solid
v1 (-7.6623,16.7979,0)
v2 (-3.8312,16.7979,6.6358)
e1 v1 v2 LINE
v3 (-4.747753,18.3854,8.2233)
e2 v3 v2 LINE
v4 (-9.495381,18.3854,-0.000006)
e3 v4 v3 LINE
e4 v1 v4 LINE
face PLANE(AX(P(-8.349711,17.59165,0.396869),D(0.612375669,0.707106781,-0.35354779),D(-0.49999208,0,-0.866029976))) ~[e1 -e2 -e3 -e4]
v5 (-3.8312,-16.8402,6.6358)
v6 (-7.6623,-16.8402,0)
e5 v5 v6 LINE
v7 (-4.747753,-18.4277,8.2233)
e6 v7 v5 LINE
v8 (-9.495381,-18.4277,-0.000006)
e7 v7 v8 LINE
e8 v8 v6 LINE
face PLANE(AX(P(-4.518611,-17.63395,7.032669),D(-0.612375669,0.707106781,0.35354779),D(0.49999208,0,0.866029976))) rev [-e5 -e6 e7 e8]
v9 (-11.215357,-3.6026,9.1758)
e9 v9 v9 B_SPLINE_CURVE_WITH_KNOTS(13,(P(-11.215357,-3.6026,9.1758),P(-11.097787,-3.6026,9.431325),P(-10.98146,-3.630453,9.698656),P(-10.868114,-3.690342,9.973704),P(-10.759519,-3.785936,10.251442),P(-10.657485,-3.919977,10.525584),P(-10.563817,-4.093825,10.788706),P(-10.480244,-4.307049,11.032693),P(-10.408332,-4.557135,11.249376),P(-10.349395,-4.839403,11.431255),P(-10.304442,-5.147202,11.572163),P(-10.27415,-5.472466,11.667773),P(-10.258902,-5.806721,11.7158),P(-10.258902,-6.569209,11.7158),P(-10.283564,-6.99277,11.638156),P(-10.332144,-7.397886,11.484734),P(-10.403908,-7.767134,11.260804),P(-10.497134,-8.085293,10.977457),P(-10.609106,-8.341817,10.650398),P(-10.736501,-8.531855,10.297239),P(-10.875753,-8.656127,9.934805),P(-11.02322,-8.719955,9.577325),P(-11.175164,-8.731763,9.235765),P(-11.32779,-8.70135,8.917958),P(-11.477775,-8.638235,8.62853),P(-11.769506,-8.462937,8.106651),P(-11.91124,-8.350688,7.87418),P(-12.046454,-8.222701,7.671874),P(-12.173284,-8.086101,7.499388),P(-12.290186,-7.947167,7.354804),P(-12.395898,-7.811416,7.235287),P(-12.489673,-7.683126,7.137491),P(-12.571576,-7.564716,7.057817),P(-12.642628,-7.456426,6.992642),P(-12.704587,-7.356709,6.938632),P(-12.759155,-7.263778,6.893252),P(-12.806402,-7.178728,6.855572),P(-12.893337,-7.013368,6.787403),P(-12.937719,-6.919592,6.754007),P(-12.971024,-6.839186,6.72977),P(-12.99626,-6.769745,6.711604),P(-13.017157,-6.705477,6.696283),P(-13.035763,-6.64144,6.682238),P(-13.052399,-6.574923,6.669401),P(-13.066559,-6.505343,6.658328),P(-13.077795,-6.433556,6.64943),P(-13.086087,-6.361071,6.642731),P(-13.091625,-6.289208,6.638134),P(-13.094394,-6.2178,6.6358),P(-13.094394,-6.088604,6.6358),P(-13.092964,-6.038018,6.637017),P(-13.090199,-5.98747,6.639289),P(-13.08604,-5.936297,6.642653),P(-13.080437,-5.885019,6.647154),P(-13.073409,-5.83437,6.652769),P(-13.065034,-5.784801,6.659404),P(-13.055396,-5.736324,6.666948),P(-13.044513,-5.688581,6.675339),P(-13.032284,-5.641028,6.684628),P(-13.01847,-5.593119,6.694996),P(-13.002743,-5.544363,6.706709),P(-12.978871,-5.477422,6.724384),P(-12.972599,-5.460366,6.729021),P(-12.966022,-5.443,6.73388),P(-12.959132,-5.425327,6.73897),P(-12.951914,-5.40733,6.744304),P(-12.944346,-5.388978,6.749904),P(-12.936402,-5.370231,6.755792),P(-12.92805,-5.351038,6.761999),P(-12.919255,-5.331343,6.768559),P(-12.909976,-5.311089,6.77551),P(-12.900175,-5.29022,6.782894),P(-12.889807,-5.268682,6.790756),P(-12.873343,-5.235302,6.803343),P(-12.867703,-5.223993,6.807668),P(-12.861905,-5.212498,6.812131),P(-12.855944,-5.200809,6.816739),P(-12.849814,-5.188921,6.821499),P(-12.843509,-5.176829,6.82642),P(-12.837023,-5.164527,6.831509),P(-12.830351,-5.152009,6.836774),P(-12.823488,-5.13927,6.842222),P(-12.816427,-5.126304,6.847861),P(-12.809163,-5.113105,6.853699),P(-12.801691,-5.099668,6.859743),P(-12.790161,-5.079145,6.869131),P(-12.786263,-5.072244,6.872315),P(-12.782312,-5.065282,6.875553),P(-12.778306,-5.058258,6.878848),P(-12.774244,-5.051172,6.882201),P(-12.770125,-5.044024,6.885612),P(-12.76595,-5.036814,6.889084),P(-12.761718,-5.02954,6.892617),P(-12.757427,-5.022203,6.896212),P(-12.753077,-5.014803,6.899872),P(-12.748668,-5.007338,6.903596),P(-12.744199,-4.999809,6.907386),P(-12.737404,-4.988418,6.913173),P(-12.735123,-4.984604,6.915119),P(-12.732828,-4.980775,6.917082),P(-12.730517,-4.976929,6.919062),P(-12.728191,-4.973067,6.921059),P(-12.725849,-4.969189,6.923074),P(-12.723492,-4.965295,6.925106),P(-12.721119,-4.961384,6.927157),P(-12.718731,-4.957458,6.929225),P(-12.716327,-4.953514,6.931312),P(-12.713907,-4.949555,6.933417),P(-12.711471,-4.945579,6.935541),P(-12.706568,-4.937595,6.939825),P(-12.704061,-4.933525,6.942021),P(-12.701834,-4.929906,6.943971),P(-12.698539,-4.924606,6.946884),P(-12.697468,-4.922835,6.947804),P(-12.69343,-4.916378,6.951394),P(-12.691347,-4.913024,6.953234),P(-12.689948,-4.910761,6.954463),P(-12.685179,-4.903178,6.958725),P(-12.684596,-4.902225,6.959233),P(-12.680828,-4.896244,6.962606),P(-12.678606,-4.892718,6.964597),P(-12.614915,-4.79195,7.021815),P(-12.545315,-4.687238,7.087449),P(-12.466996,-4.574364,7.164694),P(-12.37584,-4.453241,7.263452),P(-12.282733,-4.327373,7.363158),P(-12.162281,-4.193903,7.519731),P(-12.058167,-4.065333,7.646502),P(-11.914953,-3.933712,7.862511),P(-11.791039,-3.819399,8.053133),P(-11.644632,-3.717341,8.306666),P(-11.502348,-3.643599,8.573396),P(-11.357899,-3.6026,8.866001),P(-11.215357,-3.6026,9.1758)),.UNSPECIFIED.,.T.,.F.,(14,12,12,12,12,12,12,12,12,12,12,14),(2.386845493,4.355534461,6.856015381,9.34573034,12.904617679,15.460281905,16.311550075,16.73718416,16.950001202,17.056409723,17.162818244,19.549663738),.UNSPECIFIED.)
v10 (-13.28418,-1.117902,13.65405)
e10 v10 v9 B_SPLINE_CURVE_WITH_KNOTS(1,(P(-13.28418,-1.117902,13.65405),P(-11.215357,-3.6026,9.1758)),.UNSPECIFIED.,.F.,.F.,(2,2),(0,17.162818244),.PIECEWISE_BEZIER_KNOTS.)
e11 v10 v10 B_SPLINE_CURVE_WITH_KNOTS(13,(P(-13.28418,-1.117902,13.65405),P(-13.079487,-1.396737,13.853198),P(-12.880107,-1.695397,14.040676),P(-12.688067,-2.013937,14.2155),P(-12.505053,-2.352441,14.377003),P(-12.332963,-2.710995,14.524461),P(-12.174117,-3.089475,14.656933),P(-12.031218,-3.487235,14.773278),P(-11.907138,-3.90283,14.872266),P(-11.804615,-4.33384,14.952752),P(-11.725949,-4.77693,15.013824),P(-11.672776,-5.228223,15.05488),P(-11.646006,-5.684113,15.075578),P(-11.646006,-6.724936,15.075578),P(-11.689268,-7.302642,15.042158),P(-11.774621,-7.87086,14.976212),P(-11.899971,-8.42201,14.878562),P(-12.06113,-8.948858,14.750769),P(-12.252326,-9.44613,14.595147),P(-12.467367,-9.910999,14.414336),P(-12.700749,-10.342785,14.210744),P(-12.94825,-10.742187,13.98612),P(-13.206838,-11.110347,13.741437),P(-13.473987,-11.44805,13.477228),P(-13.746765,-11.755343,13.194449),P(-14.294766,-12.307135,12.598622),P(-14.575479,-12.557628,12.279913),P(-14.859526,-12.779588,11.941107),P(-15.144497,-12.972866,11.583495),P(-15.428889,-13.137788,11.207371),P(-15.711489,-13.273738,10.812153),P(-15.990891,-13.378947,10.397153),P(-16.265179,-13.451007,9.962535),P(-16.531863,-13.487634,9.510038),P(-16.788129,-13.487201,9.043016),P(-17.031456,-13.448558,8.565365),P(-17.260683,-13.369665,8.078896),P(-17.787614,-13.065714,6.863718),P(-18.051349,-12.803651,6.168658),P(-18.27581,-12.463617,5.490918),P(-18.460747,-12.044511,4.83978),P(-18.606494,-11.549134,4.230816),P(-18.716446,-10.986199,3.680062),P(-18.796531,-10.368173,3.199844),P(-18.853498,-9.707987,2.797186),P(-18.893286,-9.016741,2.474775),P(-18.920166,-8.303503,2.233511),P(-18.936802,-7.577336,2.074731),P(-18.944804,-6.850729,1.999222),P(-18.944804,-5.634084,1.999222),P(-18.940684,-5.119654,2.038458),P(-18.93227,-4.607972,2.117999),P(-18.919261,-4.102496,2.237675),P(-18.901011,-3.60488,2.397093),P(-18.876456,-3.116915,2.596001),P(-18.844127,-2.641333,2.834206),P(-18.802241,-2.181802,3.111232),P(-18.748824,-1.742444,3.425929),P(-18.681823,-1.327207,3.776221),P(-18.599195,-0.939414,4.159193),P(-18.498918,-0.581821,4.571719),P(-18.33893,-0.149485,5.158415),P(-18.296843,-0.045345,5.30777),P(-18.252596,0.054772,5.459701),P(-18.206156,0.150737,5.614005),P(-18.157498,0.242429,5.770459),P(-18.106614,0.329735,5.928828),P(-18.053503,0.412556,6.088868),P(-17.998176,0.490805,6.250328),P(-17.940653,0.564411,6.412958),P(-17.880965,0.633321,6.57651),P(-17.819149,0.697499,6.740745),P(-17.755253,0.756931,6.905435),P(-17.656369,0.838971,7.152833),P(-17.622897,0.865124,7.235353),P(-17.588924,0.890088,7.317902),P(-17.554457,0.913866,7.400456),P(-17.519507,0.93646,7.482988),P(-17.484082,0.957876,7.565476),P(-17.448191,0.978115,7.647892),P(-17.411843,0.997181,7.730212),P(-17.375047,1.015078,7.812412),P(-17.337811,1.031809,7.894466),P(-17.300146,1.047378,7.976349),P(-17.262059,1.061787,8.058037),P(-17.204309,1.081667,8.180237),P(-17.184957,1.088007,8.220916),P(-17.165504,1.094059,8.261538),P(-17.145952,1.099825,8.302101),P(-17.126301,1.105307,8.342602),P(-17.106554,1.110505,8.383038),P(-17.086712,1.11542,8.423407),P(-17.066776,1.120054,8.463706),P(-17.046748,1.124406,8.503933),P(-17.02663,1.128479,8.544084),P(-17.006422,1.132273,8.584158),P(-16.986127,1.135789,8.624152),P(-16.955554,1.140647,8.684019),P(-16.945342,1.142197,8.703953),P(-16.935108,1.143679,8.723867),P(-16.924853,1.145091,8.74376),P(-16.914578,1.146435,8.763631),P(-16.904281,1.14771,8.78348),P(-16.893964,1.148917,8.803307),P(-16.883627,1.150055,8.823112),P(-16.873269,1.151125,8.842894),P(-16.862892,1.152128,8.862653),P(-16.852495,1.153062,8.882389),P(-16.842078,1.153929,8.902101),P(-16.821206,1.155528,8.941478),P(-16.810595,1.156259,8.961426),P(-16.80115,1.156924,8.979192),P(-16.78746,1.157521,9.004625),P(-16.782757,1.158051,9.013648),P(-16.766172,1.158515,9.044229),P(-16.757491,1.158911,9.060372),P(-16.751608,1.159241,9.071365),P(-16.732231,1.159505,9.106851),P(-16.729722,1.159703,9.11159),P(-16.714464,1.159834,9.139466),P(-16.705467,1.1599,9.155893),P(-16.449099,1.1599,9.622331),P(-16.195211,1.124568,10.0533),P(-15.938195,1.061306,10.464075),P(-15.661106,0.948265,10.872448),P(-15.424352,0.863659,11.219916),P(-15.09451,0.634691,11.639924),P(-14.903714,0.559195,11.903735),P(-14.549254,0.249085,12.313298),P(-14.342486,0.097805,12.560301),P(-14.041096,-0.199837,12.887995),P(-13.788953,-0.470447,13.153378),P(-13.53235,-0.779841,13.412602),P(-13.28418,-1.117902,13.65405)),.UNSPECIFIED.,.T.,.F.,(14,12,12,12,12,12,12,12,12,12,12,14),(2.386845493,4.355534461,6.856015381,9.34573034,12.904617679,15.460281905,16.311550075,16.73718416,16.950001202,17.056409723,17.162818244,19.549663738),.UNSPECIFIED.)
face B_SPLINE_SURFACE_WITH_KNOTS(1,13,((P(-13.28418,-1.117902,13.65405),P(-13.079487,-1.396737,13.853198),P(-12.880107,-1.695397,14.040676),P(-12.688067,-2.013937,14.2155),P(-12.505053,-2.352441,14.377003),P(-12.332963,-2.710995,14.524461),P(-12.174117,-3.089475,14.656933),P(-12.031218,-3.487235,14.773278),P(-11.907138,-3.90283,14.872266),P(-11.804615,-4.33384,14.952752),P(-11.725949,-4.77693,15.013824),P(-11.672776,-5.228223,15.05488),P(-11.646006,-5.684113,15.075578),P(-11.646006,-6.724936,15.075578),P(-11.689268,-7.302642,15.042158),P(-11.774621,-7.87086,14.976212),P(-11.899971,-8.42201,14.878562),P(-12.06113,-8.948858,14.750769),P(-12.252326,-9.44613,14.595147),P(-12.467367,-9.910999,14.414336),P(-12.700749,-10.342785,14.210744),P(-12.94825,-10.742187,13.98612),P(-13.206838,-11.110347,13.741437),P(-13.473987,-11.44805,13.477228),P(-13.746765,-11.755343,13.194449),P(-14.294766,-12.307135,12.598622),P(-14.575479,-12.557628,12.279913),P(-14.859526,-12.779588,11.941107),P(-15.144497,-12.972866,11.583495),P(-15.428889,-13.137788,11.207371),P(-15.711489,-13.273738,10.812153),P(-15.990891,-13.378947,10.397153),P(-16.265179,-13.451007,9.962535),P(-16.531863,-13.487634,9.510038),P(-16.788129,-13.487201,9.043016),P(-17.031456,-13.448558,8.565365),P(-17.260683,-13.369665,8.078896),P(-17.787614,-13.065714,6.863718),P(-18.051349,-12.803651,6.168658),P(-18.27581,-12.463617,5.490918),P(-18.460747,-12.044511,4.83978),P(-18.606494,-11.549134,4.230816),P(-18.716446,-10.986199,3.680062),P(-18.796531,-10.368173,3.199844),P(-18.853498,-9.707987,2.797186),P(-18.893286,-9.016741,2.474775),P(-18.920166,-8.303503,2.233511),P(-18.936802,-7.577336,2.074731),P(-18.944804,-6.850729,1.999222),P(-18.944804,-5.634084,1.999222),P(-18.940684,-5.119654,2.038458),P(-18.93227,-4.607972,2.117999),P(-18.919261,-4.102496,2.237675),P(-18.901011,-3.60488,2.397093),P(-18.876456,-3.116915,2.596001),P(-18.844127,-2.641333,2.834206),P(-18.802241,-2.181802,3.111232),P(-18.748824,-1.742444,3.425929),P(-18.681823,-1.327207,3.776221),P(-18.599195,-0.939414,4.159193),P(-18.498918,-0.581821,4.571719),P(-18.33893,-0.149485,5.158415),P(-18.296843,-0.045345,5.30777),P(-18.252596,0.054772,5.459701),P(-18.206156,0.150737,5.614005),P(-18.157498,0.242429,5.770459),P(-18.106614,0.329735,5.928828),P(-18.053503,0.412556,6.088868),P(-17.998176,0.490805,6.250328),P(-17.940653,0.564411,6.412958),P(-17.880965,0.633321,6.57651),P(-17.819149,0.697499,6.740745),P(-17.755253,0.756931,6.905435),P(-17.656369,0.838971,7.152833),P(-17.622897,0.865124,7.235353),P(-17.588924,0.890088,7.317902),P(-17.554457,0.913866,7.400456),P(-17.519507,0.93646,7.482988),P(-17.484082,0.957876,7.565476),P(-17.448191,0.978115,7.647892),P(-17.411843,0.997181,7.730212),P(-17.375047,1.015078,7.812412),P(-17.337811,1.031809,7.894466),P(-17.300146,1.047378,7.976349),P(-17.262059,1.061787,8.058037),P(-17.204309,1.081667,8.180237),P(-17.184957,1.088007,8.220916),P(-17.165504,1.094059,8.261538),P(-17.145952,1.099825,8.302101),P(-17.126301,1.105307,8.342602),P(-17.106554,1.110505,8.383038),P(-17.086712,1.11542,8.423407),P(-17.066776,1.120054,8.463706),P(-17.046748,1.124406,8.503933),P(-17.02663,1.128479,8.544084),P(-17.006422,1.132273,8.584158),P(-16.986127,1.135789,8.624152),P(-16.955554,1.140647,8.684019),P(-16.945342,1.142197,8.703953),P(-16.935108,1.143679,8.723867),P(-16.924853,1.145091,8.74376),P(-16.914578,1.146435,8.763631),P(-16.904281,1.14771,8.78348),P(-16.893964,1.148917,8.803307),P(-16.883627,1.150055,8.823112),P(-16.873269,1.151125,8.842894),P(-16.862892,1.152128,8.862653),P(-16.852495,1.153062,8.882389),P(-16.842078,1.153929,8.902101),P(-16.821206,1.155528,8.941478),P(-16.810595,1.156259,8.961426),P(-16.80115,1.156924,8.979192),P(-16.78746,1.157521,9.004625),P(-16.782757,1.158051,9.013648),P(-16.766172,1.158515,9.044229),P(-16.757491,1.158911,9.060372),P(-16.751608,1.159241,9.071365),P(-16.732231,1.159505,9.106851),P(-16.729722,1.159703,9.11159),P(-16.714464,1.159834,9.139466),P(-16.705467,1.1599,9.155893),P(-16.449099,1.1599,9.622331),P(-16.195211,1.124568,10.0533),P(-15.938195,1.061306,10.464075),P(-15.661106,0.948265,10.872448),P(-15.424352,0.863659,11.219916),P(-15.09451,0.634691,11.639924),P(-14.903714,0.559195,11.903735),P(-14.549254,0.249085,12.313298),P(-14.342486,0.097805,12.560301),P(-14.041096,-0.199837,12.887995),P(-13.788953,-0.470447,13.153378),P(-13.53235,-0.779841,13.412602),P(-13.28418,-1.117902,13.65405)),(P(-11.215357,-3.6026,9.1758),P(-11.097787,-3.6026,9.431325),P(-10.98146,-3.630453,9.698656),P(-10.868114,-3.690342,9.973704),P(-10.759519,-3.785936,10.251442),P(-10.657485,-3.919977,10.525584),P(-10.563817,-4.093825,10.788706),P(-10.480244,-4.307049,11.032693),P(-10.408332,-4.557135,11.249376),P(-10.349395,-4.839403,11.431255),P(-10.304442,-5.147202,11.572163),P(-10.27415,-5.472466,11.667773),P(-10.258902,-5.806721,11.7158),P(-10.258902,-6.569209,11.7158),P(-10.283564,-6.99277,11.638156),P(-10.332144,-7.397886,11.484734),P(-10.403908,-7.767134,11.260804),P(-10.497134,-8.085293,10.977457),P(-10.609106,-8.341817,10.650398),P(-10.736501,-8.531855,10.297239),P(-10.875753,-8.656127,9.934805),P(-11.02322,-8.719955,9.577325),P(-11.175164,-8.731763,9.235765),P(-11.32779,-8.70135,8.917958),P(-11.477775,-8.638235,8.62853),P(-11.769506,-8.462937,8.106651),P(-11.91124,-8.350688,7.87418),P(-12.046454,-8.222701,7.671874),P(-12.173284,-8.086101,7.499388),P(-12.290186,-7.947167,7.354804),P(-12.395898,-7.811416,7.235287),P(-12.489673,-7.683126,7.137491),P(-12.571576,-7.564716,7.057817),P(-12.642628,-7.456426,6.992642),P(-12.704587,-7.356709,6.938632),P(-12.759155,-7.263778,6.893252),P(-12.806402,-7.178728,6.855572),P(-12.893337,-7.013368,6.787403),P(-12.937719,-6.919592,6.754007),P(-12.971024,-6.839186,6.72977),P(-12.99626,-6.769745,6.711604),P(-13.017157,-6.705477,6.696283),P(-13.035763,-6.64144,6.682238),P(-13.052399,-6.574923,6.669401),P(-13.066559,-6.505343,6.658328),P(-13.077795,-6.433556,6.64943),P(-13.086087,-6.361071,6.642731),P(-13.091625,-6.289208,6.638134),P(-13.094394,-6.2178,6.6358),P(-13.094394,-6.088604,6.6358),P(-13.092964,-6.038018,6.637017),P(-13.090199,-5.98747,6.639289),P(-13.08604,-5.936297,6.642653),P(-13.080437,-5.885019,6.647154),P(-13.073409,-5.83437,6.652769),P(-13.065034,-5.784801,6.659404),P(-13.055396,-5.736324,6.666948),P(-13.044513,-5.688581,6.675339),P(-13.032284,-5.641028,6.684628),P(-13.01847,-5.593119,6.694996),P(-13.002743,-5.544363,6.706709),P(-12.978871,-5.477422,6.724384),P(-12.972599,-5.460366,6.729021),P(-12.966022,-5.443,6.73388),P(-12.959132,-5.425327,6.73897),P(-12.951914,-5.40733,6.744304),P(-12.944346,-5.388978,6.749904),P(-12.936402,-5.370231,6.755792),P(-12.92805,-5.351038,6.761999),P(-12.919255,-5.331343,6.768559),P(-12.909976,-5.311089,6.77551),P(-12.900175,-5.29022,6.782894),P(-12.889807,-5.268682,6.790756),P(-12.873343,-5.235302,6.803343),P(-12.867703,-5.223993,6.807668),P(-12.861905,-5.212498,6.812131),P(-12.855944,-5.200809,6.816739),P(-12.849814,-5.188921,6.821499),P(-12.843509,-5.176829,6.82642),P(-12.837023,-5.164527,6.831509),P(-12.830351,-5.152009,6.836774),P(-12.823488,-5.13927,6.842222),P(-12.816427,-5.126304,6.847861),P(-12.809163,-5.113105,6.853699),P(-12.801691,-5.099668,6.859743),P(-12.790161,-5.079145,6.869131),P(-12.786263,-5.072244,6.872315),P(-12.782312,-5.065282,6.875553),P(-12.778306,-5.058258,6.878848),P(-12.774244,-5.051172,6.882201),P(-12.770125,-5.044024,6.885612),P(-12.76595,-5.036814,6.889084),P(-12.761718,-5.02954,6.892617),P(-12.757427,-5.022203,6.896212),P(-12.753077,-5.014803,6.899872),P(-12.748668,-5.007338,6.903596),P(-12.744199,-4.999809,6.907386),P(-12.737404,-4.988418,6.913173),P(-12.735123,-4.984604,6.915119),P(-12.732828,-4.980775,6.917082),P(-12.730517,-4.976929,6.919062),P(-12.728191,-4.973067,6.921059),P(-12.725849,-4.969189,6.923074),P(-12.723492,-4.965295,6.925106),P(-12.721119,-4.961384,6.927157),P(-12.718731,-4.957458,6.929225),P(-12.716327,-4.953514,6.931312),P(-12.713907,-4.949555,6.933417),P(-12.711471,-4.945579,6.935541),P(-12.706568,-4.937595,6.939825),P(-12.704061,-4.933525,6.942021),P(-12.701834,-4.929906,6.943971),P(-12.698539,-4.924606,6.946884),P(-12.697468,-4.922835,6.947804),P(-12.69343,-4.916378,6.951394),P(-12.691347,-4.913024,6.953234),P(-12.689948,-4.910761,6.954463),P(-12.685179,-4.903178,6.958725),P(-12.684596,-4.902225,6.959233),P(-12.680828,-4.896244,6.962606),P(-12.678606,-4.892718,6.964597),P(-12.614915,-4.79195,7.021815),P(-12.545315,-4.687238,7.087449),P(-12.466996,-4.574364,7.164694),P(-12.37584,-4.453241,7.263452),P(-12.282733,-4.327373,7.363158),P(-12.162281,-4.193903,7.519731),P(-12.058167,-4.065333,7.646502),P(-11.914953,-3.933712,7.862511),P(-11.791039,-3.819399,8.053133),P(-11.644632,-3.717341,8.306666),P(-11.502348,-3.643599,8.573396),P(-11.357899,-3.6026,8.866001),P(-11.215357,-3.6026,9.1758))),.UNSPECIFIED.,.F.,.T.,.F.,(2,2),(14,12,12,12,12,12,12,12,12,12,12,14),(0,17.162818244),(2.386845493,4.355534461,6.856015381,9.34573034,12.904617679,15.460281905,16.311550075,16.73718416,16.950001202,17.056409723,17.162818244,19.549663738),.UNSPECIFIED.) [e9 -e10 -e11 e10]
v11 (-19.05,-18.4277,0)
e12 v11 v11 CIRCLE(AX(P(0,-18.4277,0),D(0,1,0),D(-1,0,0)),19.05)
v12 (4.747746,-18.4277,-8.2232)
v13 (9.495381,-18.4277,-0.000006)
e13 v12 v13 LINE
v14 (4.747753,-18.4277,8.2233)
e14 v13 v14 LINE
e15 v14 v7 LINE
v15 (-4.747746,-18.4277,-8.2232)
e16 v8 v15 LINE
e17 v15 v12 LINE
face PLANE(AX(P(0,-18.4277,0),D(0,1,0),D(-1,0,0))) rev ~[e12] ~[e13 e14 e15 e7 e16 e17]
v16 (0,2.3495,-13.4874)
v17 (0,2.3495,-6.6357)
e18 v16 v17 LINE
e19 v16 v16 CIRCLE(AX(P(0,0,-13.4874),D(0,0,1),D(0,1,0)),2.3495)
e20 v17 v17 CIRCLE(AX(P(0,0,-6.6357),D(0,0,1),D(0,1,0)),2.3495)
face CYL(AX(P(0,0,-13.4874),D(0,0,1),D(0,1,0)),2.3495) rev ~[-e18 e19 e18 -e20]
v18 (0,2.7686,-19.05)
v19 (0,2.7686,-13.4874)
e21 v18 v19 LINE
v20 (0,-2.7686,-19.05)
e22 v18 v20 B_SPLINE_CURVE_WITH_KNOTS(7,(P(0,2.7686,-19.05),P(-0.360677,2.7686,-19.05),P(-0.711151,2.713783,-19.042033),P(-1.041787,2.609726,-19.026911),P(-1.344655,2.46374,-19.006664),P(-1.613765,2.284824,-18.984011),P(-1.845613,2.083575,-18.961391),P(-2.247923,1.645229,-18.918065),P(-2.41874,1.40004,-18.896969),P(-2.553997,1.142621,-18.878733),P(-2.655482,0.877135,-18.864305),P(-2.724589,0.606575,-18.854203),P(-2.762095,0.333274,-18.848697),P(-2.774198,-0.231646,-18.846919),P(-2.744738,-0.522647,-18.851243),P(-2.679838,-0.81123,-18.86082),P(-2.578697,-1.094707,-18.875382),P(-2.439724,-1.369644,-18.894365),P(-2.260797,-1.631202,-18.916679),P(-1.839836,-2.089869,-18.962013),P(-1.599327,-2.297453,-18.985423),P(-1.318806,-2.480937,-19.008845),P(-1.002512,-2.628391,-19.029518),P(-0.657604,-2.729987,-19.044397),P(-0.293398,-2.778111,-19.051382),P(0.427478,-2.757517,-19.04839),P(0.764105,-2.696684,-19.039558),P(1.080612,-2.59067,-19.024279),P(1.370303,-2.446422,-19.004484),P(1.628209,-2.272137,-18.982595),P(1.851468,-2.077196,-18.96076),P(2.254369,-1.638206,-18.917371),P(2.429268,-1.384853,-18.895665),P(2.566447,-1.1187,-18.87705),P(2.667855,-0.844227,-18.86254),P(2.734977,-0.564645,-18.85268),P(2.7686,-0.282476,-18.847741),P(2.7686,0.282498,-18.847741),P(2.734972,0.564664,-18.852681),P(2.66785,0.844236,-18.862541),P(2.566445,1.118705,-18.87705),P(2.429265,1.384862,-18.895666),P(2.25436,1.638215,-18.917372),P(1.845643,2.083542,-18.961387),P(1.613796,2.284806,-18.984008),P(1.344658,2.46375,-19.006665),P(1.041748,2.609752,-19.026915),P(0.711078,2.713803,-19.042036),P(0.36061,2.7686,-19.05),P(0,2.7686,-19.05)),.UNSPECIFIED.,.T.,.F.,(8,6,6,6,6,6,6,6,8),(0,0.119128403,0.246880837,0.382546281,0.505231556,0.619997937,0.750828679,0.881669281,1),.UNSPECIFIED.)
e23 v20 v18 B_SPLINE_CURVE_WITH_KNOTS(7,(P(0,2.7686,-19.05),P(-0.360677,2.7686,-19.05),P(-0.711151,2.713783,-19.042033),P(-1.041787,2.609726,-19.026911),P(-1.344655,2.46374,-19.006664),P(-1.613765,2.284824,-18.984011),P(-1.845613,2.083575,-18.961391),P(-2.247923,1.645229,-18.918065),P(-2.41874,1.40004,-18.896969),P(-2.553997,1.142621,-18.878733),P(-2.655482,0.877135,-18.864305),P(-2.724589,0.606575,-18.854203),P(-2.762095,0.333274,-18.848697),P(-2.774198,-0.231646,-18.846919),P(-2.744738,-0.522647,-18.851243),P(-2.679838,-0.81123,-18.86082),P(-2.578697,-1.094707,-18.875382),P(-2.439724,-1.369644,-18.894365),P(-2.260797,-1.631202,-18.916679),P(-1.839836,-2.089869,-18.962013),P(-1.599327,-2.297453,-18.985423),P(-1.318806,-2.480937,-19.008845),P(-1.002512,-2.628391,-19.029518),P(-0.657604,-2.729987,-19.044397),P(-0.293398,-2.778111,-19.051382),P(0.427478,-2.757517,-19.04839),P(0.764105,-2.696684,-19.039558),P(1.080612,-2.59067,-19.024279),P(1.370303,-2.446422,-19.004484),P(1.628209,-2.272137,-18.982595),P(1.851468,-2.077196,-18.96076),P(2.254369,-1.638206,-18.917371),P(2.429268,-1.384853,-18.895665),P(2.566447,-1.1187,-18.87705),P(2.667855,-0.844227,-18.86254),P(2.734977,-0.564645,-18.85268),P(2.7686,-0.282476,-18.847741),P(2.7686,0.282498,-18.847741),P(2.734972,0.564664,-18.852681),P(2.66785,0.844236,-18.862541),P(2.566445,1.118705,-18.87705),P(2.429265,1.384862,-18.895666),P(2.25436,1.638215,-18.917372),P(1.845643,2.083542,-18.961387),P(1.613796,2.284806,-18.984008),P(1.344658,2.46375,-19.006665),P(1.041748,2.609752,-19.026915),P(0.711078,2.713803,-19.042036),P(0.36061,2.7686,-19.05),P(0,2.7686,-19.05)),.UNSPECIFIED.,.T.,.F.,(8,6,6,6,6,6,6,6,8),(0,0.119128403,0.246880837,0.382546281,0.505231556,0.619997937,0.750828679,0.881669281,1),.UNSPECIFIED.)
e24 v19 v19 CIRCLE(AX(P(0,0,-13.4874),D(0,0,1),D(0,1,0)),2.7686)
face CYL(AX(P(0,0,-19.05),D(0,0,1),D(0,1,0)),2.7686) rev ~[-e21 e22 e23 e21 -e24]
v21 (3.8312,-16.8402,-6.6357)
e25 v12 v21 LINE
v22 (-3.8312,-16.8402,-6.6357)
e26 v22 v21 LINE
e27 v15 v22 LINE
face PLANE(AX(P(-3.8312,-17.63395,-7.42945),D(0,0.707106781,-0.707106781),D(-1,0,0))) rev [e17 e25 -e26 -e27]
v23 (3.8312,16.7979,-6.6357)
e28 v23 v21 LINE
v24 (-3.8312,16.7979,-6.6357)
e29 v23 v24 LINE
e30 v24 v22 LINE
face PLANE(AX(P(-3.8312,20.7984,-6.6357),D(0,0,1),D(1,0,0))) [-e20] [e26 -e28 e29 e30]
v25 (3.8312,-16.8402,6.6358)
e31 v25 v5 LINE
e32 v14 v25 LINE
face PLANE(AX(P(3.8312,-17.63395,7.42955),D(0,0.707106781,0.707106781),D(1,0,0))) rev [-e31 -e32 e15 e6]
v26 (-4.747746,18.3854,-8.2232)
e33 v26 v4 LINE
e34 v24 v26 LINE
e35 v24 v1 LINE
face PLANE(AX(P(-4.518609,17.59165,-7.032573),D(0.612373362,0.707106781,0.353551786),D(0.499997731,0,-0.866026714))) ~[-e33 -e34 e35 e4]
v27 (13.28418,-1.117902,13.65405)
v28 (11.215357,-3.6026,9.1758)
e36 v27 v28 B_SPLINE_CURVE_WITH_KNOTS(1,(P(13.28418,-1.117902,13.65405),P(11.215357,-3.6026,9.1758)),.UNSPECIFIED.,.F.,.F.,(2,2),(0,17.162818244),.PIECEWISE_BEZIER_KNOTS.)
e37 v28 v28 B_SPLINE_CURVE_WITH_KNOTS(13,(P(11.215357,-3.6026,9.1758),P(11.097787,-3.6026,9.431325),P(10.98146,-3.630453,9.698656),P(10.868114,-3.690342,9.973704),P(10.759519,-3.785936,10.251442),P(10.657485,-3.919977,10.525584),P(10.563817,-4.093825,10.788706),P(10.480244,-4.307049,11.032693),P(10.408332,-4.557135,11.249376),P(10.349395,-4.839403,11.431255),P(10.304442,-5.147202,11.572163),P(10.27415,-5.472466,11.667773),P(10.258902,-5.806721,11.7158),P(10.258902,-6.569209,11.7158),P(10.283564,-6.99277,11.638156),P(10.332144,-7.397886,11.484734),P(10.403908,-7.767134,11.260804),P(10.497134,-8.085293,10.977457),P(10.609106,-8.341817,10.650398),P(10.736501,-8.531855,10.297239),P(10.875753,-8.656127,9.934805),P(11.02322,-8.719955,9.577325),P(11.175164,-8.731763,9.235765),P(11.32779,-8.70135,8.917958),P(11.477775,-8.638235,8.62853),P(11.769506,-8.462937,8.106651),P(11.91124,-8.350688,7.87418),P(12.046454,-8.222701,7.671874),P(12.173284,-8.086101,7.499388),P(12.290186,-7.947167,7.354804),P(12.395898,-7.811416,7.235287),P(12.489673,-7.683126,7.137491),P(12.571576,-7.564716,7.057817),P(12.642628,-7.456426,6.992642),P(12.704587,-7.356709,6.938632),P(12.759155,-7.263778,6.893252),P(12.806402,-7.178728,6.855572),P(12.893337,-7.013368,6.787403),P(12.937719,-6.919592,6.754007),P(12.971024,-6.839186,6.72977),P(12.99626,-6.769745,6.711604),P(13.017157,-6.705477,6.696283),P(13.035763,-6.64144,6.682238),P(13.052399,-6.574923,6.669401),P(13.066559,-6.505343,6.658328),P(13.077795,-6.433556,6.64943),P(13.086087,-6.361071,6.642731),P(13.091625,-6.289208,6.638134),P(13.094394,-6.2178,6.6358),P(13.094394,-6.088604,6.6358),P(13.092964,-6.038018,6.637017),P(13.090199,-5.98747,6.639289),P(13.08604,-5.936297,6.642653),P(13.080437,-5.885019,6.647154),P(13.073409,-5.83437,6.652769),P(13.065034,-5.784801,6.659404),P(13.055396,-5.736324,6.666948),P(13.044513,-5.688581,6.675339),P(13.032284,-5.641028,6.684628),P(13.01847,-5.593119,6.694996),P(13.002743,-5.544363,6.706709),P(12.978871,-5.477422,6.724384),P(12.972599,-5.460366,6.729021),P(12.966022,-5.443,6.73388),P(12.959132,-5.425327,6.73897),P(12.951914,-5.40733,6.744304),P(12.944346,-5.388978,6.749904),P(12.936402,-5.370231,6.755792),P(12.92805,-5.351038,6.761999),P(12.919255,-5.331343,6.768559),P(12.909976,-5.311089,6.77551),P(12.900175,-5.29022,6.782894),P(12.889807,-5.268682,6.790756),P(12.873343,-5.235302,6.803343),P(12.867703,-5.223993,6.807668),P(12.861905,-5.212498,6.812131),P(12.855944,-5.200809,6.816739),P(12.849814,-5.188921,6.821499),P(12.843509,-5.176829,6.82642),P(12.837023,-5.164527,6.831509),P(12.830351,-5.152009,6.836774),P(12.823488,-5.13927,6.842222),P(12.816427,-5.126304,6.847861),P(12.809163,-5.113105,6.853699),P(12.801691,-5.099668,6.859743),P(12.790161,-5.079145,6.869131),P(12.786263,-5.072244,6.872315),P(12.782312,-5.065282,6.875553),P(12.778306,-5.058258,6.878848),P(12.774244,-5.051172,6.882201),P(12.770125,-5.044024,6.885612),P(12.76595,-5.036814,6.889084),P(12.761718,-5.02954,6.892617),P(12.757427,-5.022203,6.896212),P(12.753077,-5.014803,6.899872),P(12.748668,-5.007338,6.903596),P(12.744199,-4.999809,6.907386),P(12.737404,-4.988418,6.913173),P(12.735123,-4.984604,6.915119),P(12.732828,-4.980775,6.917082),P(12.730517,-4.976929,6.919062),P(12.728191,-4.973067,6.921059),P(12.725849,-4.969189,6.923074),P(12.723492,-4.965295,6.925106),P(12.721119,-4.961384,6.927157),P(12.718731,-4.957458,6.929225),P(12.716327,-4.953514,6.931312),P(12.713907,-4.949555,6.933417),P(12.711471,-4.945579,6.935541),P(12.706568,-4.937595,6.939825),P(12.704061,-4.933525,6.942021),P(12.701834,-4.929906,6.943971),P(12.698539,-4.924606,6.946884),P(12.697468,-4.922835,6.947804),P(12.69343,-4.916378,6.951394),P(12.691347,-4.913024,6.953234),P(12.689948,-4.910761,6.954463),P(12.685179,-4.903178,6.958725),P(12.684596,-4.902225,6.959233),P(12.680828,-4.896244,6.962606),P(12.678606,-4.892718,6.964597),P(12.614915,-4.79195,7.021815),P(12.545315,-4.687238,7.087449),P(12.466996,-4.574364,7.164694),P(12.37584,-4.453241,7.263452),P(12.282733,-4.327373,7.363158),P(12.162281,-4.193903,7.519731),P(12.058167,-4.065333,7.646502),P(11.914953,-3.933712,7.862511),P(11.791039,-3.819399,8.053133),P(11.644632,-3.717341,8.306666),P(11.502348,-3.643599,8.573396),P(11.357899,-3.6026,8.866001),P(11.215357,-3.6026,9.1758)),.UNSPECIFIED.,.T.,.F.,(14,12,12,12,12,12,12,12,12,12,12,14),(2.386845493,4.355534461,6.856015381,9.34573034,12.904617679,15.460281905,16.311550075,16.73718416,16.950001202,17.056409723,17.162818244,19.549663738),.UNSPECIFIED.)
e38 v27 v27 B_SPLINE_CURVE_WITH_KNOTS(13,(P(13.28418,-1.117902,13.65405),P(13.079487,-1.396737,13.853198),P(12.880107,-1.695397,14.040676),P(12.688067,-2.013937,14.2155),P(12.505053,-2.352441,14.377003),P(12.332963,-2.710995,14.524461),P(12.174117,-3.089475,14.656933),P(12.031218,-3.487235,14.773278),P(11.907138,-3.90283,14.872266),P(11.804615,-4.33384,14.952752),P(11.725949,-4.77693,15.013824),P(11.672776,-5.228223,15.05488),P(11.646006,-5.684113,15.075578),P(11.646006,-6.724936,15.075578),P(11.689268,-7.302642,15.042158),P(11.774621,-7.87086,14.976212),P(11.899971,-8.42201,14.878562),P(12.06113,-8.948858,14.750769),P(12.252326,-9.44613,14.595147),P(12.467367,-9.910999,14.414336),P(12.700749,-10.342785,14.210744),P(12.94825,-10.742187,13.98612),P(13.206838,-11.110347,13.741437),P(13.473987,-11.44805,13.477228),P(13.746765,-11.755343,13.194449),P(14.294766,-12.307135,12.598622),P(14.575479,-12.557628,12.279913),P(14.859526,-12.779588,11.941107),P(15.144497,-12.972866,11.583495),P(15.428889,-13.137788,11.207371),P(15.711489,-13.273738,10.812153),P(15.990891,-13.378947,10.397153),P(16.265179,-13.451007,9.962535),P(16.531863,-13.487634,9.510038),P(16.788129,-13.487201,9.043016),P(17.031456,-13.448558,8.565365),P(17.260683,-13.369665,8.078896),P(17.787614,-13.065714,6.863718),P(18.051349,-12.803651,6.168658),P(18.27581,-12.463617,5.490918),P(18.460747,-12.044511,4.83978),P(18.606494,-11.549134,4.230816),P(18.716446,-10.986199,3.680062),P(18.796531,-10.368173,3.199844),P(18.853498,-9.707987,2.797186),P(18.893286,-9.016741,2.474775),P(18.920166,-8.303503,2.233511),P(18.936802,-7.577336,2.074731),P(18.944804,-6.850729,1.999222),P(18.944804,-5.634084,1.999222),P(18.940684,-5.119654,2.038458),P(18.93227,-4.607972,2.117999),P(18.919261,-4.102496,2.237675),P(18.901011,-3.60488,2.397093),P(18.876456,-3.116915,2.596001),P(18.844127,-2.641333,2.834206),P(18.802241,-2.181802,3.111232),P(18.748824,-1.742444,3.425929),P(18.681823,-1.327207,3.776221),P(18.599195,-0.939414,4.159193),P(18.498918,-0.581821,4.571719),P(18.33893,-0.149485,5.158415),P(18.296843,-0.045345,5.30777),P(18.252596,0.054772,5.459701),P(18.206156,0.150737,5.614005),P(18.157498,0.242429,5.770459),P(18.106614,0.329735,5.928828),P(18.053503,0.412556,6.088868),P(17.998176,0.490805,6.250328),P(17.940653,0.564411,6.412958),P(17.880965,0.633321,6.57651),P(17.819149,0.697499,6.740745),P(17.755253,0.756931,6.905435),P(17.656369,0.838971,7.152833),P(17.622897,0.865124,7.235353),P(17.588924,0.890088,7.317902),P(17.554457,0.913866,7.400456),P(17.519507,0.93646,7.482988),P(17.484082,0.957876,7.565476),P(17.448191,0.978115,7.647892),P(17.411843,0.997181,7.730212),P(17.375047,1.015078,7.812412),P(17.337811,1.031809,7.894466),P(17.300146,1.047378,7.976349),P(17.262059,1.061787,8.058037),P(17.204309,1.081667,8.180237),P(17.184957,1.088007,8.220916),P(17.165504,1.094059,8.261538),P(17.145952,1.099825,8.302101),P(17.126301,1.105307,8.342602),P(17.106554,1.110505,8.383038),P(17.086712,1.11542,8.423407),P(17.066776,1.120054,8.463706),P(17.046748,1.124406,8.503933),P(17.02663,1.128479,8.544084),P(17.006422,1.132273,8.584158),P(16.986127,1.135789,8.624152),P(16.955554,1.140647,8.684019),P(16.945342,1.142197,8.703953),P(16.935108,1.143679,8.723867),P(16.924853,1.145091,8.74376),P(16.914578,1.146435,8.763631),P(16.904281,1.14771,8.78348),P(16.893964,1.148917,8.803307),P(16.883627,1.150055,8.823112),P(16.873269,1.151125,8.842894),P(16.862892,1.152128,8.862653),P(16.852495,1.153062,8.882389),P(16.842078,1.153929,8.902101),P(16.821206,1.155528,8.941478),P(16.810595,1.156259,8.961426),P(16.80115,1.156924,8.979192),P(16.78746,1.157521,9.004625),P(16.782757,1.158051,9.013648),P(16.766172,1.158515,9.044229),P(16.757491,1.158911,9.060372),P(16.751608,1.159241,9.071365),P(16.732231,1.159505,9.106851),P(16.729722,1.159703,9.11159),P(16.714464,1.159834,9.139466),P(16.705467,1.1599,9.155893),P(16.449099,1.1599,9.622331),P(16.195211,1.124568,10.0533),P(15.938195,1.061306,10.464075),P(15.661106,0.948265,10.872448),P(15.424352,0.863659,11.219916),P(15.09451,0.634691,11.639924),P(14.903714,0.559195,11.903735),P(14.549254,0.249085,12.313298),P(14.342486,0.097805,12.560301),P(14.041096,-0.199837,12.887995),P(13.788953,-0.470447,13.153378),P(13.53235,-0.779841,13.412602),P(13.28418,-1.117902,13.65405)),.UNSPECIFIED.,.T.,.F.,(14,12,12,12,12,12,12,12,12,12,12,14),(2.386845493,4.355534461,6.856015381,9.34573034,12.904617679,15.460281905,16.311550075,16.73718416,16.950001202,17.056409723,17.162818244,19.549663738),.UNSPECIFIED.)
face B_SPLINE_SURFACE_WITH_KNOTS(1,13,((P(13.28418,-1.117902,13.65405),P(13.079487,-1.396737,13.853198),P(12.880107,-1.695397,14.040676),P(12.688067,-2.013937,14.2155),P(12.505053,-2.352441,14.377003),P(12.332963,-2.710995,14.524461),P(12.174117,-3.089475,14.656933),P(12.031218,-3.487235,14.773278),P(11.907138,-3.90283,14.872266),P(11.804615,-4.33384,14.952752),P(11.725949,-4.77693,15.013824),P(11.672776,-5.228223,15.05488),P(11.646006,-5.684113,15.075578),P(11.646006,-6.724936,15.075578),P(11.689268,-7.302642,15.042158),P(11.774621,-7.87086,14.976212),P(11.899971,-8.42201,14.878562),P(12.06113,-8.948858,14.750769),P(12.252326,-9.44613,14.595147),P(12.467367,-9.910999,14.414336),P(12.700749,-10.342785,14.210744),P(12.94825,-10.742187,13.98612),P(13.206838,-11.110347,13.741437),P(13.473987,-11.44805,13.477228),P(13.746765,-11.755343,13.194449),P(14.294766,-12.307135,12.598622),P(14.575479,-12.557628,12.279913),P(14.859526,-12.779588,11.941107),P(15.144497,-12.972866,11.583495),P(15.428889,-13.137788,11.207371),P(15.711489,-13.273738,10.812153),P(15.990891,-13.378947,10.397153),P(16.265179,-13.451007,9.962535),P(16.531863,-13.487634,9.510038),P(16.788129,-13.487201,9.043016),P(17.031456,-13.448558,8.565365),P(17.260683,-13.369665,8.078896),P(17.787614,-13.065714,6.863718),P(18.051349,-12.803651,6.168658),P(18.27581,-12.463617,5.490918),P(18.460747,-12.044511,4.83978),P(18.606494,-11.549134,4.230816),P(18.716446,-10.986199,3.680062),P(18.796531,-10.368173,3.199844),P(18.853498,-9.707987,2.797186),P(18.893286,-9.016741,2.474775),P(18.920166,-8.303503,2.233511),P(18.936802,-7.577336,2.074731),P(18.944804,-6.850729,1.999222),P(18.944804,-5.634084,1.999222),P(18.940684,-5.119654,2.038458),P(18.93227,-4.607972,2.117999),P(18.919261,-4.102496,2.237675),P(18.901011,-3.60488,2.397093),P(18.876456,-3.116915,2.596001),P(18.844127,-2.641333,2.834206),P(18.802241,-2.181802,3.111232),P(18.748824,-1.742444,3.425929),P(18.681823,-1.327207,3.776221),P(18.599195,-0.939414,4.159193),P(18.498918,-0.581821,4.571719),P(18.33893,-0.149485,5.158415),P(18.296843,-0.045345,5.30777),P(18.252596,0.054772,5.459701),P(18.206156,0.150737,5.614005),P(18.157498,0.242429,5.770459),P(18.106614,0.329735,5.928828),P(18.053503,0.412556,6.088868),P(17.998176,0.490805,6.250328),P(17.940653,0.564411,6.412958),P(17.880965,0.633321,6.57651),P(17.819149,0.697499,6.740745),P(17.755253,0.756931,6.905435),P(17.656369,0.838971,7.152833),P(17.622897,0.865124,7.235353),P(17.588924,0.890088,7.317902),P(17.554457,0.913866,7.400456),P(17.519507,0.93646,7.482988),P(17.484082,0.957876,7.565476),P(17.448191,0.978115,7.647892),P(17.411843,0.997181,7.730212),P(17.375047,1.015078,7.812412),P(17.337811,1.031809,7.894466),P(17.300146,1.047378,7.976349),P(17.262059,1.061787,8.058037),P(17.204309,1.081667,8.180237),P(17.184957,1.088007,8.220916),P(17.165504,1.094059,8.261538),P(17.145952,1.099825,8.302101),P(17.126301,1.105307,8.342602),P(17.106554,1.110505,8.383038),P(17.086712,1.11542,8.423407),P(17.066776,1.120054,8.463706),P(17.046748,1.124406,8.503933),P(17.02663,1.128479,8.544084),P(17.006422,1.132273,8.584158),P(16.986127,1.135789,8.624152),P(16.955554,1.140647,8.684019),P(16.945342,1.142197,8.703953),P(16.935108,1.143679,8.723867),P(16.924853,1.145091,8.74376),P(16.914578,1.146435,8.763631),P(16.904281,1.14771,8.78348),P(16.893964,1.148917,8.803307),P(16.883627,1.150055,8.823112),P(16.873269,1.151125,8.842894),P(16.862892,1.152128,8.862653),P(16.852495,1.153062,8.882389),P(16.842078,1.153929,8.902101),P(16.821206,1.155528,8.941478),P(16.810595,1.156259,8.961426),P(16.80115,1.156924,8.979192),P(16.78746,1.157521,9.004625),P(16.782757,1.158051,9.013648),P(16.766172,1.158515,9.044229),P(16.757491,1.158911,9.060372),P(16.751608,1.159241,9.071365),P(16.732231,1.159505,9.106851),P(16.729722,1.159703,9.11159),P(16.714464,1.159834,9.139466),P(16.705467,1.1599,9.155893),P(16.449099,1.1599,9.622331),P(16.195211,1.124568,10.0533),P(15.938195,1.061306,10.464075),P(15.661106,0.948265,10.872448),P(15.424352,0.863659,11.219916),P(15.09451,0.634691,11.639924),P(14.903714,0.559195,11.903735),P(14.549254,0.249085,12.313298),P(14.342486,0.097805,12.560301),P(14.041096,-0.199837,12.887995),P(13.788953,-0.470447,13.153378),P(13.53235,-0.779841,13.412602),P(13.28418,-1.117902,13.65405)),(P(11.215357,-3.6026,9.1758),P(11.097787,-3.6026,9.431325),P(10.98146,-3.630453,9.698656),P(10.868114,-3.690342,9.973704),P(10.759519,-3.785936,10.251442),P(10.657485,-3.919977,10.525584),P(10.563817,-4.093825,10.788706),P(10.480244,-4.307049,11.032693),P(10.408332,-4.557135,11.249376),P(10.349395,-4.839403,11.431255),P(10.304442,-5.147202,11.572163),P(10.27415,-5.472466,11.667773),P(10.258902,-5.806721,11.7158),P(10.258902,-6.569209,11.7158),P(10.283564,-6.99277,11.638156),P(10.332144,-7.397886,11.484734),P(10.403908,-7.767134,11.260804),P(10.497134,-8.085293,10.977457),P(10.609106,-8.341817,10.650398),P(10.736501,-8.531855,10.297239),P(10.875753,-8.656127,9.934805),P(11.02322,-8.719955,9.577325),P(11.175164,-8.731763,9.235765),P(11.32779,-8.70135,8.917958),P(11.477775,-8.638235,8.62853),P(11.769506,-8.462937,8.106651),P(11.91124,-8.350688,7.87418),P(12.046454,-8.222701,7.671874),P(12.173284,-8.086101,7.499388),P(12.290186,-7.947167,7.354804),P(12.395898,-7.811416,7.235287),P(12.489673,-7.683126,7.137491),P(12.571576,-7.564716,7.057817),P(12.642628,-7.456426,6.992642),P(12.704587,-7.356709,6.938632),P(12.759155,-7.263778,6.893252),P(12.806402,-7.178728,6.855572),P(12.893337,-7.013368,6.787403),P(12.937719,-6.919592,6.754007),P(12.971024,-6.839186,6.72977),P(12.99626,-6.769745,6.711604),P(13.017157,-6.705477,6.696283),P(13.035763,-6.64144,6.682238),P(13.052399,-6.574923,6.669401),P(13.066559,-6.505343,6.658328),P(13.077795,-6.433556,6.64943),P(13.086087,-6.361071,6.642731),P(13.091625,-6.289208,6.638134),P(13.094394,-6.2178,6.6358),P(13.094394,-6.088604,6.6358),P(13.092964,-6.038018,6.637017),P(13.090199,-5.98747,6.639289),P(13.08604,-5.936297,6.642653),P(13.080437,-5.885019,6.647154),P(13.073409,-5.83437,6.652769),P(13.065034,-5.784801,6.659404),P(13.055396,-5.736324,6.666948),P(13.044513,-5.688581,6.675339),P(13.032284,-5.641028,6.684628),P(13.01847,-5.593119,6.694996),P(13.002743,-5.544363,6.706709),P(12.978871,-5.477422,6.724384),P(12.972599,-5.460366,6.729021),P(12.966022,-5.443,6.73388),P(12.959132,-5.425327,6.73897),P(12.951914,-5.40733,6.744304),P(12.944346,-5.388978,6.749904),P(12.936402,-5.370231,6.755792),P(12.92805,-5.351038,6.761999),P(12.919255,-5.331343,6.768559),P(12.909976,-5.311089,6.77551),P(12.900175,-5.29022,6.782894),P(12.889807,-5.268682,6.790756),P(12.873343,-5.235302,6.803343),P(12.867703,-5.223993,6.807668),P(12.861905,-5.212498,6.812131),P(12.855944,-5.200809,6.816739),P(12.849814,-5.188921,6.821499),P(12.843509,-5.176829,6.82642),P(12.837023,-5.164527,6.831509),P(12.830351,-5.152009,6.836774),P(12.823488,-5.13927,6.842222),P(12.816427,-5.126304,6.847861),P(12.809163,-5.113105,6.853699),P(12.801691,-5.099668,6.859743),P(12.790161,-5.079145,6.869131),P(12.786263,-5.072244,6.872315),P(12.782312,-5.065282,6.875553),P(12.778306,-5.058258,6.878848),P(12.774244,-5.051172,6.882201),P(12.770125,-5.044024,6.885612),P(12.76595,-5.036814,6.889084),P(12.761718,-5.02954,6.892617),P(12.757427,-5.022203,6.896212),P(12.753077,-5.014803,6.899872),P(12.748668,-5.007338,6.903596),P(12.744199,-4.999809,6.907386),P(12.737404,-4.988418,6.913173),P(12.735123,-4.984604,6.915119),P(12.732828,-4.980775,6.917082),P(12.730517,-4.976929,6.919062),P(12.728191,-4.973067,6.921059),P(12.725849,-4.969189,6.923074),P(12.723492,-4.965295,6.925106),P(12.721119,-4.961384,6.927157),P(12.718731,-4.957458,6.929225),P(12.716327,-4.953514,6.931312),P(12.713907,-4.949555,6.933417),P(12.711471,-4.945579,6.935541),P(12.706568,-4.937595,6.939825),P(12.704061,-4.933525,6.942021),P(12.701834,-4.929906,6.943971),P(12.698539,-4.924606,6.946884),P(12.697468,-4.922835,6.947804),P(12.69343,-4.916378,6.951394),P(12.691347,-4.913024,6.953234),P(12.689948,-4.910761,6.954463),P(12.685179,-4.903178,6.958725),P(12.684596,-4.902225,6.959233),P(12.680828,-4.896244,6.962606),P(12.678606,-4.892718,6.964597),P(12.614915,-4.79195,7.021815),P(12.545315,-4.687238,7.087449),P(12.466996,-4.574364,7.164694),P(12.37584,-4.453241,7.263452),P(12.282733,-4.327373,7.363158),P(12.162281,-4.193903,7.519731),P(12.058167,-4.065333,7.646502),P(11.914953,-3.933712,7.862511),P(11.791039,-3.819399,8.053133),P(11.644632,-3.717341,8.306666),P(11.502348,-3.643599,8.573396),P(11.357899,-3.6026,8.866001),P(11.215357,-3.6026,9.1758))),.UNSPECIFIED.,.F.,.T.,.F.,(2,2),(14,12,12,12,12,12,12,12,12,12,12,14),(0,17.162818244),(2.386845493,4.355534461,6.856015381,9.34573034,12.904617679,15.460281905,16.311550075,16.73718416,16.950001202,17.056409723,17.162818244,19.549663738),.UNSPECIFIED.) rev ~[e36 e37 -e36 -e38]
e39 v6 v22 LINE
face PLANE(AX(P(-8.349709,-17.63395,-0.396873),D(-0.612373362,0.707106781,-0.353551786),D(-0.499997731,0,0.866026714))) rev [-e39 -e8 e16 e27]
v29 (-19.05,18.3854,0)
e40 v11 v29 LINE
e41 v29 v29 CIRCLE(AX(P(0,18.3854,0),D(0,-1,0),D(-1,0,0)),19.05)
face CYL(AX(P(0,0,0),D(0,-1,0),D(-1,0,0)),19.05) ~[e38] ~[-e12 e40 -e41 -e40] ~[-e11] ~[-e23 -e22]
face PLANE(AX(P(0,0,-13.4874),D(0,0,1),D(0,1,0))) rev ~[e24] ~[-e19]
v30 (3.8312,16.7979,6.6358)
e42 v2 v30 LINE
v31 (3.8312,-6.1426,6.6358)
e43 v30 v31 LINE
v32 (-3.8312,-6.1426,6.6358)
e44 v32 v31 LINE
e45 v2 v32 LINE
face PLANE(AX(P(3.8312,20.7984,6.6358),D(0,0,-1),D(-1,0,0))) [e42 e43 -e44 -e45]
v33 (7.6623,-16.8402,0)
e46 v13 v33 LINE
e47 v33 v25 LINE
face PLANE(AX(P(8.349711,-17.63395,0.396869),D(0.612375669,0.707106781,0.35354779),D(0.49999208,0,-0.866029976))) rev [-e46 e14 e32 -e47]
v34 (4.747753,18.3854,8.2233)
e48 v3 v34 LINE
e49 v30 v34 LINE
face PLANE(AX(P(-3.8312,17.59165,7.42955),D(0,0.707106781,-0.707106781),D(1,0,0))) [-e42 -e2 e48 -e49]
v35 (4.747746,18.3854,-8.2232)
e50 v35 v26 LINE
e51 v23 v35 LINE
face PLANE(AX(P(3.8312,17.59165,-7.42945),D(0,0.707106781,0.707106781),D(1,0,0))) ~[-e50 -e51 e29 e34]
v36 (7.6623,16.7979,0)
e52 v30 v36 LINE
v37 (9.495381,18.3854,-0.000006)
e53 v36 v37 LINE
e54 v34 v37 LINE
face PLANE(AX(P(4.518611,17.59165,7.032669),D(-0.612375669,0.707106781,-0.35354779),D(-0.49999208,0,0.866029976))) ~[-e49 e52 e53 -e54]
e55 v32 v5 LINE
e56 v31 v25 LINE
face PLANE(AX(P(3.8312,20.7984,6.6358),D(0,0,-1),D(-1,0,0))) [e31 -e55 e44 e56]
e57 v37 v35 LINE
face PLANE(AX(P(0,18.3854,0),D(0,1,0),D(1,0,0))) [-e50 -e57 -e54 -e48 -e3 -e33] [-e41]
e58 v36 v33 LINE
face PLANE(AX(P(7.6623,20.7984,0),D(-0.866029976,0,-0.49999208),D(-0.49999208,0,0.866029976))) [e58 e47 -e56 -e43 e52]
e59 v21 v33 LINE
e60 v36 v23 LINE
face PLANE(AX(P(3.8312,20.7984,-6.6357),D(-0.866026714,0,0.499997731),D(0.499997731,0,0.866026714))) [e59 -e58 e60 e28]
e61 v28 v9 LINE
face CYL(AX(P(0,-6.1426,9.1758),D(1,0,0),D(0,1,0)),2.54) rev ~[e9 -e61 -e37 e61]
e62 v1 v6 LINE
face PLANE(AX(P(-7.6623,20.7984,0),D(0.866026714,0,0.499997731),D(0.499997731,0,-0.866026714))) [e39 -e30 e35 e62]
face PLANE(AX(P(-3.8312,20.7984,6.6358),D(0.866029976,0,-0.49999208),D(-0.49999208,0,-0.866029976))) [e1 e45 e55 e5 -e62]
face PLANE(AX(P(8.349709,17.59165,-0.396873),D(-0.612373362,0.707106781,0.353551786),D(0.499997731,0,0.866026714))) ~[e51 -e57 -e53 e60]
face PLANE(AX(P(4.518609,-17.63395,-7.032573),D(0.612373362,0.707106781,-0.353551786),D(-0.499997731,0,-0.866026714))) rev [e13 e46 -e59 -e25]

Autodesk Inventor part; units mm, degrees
ref_plane "YZ Plane" through (0, 0, 0) normal (1, 0, 0) x (0, 1, 0)
ref_plane "XZ Plane" through (0, 0, 0) normal (0, 1, 0) x (-1, 0, 0)
sketch "Sketch9" plane through (0, 0, 0) normal (0, 1, 0) x (-1, 0, 0)
  circle A0 centre (0, 0) radius 19.05
  dimension "d53" = 38.1
extrude "Extrusion6" add sketch "Sketch9" along normal mid plane 36.8554
sketch "Sketch10" plane through (0, 18.4277, 0) normal (0, 1, 0) x (1, 0, 0)
  circle A0 centre (0, 0) radius 13.589
  dimension "idWasher" = 27.178
extrude "Extrusion7" add sketch "Sketch10" along normal blind 2.3707
sketch "Sketch11" plane through (0, 20.7984, 0) normal (0, 1, 0) x (1, 0, 0)
  line L0 (7.6623, 0) -> (3.8312, -6.6358)
  line L1 (3.8312, -6.6358) -> (-3.8312, -6.6358)
  line L2 (-3.8312, -6.6358) -> (-7.6623, 0)
  line L3 (-7.6623, 0) -> (-3.8312, 6.6357)
  line L4 (-3.8312, 6.6357) -> (3.8312, 6.6357)
  line L5 (3.8312, 6.6357) -> (7.6623, 0)
  point P0 (0, 0)
  point P1 (0, 0)
  dimension "d59" = 13.2715
extrude "Extrusion8" cut sketch "Sketch11" against normal through all
sketch "Sketch12" plane through (0, 0, 0) normal (1, 0, 0) x (0, 1, 0)
  circle A0 centre (-6.1426, 9.1758) radius 2.54
  line L0 (20.7984, 0) -> (-18.4277, 0) projected
  line L1 (-18.4277, 19.05) -> (-18.4277, -19.05) projected
  point P0 (0, 0)
  dimension "d62" = 5.08
  dimension "d63" = 9.1758
  dimension "oneThirdSpoolHeight" = 12.2851
extrude "Extrusion9" cut sketch "Sketch12" along normal through all both and the other way through all
chamfer "Chamfer5" distance 4.7625 angle 45 2 edges at (16.6229, -8.6793, 9.3048) (-16.6229, -8.6793, 9.3048)
ref_plane "Work Plane2" through (0, 0, -19.05) normal (0, 0, 1) x (1, 0, 0)
sketch "Sketch13" plane through (0, 0, -19.05) normal (0, 0, 1) x (1, 0, 0)
  point P0 (0, 0)
  point P1 (0, 0)
hole "Hole2" at (0, 0, -19.05) direction (0, 0, 1) diameter 4.699 depth 12.4143 counterbore diameter 5.5372 counterbore depth 5.5626
chamfer "Chamfer6" distance 1.5875 angle 45 12 edges at (-5.7467, 20.7984, -3.3179) (0, 20.7984, -6.6357) (5.7467, 20.7984, -3.3179) (5.7467, 20.7984, 3.3179) (0, 20.7984, 6.6358) (-5.7467, 20.7984, 3.3179) (0, -18.4277, 6.6358) (5.7467, -18.4277, 3.3179) (5.7467, -18.4277, -3.3179) (0, -18.4277, -6.6357) (-5.7467, -18.4277, -3.3179) (-5.7467, -18.4277, 3.3179)
sketch "Sketch14" plane through (0, 20.7984, 0) normal (0, 1, 0) x (1, 0, 0)
  circle A0 centre (0, 0) radius 19.05
extrude "Extrusion10" cut sketch "Sketch14" against normal blind 2.413
chamfer "Chamfer7" distance 1.5875 angle 45 6 edges at (-5.7467, 18.3854, -3.3179) (0, 18.3854, -6.6357) (5.7467, 18.3854, -3.3179) (5.7467, 18.3854, 3.3179) (0, 18.3854, 6.6358) (-5.7467, 18.3854, 3.3179)
equation "\"d53\" = spoolInteriorDiameter"
equation "\"d59\" = hexDiameter"
equation "\"d62\" = holeForString"
equation "\"d63\" = stringHoleCenterFromHexShaft"
equation "\"oneThirdSpoolHeight\" = 0.333333 * singleSpoolHeight"
equation "\"d67\" = stringHoleChamfer"
equation "\"d77\" = hexHoleChamfer"
equation "\"d82\" = hexHoleChamfer"
equation "\"holeForString\" = stringDiameter + clearanceForString"
equation "\"stringDiameter\" = 3.048"
equation "\"clearanceForString\" = 2.032"
equation "\"spoolHeightWithoutSpacer\" = 69.85"
equation "\"hexShaftDiameter\" = 12.7"
equation "\"clearanceForHexShaft\" = 0.5715"
equation "\"hexDiameter\" = hexShaftDiameter + clearanceForHexShaft"
equation "\"supportChannels\" = 3.81"
equation "\"spoolInteriorDiameter\" = 38.1"
equation "\"spoolInteriroRadius\" = 0.5 * spoolInteriorDiameter"
equation "\"spoolExteriorDiameter\" = 88.9"
equation "\"spoolExteriorRadius\" = 0.5 * spoolExteriorDiameter"
equation "\"spoolFiletRadius\" = 0.5 * supportChannels"
equation "\"holeCenter\" = 0.25 * spoolHeightWithoutSpacer - 0.75 * supportChannels"
equation "\"hexHoleChamfer\" = 1.5875"
equation "\"stringHoleCenterFromHexShaft\" = 0.5 * hexDiameter + 0.5 * holeForString"
equation "\"textCircleDiameter\" = 0.75 * spoolExteriorDiameter"
equation "\"textHeight\" = 6.096"
equation "\"textDepth\" = 1.27"
equation "\"stringHoleChamfer\" = 4.7625"
equation "\"spoolTotalHeight\" = 76.2"
equation "\"spaceHeight\" = spoolTotalHeight - spoolHeightWithoutSpacer"
equation "\"spacerDiameter\" = 24.13"
equation "\"singleSpoolHeight\" = 36.8554"
properties part number "spoolV05" material "PC/ABS Plastic"
